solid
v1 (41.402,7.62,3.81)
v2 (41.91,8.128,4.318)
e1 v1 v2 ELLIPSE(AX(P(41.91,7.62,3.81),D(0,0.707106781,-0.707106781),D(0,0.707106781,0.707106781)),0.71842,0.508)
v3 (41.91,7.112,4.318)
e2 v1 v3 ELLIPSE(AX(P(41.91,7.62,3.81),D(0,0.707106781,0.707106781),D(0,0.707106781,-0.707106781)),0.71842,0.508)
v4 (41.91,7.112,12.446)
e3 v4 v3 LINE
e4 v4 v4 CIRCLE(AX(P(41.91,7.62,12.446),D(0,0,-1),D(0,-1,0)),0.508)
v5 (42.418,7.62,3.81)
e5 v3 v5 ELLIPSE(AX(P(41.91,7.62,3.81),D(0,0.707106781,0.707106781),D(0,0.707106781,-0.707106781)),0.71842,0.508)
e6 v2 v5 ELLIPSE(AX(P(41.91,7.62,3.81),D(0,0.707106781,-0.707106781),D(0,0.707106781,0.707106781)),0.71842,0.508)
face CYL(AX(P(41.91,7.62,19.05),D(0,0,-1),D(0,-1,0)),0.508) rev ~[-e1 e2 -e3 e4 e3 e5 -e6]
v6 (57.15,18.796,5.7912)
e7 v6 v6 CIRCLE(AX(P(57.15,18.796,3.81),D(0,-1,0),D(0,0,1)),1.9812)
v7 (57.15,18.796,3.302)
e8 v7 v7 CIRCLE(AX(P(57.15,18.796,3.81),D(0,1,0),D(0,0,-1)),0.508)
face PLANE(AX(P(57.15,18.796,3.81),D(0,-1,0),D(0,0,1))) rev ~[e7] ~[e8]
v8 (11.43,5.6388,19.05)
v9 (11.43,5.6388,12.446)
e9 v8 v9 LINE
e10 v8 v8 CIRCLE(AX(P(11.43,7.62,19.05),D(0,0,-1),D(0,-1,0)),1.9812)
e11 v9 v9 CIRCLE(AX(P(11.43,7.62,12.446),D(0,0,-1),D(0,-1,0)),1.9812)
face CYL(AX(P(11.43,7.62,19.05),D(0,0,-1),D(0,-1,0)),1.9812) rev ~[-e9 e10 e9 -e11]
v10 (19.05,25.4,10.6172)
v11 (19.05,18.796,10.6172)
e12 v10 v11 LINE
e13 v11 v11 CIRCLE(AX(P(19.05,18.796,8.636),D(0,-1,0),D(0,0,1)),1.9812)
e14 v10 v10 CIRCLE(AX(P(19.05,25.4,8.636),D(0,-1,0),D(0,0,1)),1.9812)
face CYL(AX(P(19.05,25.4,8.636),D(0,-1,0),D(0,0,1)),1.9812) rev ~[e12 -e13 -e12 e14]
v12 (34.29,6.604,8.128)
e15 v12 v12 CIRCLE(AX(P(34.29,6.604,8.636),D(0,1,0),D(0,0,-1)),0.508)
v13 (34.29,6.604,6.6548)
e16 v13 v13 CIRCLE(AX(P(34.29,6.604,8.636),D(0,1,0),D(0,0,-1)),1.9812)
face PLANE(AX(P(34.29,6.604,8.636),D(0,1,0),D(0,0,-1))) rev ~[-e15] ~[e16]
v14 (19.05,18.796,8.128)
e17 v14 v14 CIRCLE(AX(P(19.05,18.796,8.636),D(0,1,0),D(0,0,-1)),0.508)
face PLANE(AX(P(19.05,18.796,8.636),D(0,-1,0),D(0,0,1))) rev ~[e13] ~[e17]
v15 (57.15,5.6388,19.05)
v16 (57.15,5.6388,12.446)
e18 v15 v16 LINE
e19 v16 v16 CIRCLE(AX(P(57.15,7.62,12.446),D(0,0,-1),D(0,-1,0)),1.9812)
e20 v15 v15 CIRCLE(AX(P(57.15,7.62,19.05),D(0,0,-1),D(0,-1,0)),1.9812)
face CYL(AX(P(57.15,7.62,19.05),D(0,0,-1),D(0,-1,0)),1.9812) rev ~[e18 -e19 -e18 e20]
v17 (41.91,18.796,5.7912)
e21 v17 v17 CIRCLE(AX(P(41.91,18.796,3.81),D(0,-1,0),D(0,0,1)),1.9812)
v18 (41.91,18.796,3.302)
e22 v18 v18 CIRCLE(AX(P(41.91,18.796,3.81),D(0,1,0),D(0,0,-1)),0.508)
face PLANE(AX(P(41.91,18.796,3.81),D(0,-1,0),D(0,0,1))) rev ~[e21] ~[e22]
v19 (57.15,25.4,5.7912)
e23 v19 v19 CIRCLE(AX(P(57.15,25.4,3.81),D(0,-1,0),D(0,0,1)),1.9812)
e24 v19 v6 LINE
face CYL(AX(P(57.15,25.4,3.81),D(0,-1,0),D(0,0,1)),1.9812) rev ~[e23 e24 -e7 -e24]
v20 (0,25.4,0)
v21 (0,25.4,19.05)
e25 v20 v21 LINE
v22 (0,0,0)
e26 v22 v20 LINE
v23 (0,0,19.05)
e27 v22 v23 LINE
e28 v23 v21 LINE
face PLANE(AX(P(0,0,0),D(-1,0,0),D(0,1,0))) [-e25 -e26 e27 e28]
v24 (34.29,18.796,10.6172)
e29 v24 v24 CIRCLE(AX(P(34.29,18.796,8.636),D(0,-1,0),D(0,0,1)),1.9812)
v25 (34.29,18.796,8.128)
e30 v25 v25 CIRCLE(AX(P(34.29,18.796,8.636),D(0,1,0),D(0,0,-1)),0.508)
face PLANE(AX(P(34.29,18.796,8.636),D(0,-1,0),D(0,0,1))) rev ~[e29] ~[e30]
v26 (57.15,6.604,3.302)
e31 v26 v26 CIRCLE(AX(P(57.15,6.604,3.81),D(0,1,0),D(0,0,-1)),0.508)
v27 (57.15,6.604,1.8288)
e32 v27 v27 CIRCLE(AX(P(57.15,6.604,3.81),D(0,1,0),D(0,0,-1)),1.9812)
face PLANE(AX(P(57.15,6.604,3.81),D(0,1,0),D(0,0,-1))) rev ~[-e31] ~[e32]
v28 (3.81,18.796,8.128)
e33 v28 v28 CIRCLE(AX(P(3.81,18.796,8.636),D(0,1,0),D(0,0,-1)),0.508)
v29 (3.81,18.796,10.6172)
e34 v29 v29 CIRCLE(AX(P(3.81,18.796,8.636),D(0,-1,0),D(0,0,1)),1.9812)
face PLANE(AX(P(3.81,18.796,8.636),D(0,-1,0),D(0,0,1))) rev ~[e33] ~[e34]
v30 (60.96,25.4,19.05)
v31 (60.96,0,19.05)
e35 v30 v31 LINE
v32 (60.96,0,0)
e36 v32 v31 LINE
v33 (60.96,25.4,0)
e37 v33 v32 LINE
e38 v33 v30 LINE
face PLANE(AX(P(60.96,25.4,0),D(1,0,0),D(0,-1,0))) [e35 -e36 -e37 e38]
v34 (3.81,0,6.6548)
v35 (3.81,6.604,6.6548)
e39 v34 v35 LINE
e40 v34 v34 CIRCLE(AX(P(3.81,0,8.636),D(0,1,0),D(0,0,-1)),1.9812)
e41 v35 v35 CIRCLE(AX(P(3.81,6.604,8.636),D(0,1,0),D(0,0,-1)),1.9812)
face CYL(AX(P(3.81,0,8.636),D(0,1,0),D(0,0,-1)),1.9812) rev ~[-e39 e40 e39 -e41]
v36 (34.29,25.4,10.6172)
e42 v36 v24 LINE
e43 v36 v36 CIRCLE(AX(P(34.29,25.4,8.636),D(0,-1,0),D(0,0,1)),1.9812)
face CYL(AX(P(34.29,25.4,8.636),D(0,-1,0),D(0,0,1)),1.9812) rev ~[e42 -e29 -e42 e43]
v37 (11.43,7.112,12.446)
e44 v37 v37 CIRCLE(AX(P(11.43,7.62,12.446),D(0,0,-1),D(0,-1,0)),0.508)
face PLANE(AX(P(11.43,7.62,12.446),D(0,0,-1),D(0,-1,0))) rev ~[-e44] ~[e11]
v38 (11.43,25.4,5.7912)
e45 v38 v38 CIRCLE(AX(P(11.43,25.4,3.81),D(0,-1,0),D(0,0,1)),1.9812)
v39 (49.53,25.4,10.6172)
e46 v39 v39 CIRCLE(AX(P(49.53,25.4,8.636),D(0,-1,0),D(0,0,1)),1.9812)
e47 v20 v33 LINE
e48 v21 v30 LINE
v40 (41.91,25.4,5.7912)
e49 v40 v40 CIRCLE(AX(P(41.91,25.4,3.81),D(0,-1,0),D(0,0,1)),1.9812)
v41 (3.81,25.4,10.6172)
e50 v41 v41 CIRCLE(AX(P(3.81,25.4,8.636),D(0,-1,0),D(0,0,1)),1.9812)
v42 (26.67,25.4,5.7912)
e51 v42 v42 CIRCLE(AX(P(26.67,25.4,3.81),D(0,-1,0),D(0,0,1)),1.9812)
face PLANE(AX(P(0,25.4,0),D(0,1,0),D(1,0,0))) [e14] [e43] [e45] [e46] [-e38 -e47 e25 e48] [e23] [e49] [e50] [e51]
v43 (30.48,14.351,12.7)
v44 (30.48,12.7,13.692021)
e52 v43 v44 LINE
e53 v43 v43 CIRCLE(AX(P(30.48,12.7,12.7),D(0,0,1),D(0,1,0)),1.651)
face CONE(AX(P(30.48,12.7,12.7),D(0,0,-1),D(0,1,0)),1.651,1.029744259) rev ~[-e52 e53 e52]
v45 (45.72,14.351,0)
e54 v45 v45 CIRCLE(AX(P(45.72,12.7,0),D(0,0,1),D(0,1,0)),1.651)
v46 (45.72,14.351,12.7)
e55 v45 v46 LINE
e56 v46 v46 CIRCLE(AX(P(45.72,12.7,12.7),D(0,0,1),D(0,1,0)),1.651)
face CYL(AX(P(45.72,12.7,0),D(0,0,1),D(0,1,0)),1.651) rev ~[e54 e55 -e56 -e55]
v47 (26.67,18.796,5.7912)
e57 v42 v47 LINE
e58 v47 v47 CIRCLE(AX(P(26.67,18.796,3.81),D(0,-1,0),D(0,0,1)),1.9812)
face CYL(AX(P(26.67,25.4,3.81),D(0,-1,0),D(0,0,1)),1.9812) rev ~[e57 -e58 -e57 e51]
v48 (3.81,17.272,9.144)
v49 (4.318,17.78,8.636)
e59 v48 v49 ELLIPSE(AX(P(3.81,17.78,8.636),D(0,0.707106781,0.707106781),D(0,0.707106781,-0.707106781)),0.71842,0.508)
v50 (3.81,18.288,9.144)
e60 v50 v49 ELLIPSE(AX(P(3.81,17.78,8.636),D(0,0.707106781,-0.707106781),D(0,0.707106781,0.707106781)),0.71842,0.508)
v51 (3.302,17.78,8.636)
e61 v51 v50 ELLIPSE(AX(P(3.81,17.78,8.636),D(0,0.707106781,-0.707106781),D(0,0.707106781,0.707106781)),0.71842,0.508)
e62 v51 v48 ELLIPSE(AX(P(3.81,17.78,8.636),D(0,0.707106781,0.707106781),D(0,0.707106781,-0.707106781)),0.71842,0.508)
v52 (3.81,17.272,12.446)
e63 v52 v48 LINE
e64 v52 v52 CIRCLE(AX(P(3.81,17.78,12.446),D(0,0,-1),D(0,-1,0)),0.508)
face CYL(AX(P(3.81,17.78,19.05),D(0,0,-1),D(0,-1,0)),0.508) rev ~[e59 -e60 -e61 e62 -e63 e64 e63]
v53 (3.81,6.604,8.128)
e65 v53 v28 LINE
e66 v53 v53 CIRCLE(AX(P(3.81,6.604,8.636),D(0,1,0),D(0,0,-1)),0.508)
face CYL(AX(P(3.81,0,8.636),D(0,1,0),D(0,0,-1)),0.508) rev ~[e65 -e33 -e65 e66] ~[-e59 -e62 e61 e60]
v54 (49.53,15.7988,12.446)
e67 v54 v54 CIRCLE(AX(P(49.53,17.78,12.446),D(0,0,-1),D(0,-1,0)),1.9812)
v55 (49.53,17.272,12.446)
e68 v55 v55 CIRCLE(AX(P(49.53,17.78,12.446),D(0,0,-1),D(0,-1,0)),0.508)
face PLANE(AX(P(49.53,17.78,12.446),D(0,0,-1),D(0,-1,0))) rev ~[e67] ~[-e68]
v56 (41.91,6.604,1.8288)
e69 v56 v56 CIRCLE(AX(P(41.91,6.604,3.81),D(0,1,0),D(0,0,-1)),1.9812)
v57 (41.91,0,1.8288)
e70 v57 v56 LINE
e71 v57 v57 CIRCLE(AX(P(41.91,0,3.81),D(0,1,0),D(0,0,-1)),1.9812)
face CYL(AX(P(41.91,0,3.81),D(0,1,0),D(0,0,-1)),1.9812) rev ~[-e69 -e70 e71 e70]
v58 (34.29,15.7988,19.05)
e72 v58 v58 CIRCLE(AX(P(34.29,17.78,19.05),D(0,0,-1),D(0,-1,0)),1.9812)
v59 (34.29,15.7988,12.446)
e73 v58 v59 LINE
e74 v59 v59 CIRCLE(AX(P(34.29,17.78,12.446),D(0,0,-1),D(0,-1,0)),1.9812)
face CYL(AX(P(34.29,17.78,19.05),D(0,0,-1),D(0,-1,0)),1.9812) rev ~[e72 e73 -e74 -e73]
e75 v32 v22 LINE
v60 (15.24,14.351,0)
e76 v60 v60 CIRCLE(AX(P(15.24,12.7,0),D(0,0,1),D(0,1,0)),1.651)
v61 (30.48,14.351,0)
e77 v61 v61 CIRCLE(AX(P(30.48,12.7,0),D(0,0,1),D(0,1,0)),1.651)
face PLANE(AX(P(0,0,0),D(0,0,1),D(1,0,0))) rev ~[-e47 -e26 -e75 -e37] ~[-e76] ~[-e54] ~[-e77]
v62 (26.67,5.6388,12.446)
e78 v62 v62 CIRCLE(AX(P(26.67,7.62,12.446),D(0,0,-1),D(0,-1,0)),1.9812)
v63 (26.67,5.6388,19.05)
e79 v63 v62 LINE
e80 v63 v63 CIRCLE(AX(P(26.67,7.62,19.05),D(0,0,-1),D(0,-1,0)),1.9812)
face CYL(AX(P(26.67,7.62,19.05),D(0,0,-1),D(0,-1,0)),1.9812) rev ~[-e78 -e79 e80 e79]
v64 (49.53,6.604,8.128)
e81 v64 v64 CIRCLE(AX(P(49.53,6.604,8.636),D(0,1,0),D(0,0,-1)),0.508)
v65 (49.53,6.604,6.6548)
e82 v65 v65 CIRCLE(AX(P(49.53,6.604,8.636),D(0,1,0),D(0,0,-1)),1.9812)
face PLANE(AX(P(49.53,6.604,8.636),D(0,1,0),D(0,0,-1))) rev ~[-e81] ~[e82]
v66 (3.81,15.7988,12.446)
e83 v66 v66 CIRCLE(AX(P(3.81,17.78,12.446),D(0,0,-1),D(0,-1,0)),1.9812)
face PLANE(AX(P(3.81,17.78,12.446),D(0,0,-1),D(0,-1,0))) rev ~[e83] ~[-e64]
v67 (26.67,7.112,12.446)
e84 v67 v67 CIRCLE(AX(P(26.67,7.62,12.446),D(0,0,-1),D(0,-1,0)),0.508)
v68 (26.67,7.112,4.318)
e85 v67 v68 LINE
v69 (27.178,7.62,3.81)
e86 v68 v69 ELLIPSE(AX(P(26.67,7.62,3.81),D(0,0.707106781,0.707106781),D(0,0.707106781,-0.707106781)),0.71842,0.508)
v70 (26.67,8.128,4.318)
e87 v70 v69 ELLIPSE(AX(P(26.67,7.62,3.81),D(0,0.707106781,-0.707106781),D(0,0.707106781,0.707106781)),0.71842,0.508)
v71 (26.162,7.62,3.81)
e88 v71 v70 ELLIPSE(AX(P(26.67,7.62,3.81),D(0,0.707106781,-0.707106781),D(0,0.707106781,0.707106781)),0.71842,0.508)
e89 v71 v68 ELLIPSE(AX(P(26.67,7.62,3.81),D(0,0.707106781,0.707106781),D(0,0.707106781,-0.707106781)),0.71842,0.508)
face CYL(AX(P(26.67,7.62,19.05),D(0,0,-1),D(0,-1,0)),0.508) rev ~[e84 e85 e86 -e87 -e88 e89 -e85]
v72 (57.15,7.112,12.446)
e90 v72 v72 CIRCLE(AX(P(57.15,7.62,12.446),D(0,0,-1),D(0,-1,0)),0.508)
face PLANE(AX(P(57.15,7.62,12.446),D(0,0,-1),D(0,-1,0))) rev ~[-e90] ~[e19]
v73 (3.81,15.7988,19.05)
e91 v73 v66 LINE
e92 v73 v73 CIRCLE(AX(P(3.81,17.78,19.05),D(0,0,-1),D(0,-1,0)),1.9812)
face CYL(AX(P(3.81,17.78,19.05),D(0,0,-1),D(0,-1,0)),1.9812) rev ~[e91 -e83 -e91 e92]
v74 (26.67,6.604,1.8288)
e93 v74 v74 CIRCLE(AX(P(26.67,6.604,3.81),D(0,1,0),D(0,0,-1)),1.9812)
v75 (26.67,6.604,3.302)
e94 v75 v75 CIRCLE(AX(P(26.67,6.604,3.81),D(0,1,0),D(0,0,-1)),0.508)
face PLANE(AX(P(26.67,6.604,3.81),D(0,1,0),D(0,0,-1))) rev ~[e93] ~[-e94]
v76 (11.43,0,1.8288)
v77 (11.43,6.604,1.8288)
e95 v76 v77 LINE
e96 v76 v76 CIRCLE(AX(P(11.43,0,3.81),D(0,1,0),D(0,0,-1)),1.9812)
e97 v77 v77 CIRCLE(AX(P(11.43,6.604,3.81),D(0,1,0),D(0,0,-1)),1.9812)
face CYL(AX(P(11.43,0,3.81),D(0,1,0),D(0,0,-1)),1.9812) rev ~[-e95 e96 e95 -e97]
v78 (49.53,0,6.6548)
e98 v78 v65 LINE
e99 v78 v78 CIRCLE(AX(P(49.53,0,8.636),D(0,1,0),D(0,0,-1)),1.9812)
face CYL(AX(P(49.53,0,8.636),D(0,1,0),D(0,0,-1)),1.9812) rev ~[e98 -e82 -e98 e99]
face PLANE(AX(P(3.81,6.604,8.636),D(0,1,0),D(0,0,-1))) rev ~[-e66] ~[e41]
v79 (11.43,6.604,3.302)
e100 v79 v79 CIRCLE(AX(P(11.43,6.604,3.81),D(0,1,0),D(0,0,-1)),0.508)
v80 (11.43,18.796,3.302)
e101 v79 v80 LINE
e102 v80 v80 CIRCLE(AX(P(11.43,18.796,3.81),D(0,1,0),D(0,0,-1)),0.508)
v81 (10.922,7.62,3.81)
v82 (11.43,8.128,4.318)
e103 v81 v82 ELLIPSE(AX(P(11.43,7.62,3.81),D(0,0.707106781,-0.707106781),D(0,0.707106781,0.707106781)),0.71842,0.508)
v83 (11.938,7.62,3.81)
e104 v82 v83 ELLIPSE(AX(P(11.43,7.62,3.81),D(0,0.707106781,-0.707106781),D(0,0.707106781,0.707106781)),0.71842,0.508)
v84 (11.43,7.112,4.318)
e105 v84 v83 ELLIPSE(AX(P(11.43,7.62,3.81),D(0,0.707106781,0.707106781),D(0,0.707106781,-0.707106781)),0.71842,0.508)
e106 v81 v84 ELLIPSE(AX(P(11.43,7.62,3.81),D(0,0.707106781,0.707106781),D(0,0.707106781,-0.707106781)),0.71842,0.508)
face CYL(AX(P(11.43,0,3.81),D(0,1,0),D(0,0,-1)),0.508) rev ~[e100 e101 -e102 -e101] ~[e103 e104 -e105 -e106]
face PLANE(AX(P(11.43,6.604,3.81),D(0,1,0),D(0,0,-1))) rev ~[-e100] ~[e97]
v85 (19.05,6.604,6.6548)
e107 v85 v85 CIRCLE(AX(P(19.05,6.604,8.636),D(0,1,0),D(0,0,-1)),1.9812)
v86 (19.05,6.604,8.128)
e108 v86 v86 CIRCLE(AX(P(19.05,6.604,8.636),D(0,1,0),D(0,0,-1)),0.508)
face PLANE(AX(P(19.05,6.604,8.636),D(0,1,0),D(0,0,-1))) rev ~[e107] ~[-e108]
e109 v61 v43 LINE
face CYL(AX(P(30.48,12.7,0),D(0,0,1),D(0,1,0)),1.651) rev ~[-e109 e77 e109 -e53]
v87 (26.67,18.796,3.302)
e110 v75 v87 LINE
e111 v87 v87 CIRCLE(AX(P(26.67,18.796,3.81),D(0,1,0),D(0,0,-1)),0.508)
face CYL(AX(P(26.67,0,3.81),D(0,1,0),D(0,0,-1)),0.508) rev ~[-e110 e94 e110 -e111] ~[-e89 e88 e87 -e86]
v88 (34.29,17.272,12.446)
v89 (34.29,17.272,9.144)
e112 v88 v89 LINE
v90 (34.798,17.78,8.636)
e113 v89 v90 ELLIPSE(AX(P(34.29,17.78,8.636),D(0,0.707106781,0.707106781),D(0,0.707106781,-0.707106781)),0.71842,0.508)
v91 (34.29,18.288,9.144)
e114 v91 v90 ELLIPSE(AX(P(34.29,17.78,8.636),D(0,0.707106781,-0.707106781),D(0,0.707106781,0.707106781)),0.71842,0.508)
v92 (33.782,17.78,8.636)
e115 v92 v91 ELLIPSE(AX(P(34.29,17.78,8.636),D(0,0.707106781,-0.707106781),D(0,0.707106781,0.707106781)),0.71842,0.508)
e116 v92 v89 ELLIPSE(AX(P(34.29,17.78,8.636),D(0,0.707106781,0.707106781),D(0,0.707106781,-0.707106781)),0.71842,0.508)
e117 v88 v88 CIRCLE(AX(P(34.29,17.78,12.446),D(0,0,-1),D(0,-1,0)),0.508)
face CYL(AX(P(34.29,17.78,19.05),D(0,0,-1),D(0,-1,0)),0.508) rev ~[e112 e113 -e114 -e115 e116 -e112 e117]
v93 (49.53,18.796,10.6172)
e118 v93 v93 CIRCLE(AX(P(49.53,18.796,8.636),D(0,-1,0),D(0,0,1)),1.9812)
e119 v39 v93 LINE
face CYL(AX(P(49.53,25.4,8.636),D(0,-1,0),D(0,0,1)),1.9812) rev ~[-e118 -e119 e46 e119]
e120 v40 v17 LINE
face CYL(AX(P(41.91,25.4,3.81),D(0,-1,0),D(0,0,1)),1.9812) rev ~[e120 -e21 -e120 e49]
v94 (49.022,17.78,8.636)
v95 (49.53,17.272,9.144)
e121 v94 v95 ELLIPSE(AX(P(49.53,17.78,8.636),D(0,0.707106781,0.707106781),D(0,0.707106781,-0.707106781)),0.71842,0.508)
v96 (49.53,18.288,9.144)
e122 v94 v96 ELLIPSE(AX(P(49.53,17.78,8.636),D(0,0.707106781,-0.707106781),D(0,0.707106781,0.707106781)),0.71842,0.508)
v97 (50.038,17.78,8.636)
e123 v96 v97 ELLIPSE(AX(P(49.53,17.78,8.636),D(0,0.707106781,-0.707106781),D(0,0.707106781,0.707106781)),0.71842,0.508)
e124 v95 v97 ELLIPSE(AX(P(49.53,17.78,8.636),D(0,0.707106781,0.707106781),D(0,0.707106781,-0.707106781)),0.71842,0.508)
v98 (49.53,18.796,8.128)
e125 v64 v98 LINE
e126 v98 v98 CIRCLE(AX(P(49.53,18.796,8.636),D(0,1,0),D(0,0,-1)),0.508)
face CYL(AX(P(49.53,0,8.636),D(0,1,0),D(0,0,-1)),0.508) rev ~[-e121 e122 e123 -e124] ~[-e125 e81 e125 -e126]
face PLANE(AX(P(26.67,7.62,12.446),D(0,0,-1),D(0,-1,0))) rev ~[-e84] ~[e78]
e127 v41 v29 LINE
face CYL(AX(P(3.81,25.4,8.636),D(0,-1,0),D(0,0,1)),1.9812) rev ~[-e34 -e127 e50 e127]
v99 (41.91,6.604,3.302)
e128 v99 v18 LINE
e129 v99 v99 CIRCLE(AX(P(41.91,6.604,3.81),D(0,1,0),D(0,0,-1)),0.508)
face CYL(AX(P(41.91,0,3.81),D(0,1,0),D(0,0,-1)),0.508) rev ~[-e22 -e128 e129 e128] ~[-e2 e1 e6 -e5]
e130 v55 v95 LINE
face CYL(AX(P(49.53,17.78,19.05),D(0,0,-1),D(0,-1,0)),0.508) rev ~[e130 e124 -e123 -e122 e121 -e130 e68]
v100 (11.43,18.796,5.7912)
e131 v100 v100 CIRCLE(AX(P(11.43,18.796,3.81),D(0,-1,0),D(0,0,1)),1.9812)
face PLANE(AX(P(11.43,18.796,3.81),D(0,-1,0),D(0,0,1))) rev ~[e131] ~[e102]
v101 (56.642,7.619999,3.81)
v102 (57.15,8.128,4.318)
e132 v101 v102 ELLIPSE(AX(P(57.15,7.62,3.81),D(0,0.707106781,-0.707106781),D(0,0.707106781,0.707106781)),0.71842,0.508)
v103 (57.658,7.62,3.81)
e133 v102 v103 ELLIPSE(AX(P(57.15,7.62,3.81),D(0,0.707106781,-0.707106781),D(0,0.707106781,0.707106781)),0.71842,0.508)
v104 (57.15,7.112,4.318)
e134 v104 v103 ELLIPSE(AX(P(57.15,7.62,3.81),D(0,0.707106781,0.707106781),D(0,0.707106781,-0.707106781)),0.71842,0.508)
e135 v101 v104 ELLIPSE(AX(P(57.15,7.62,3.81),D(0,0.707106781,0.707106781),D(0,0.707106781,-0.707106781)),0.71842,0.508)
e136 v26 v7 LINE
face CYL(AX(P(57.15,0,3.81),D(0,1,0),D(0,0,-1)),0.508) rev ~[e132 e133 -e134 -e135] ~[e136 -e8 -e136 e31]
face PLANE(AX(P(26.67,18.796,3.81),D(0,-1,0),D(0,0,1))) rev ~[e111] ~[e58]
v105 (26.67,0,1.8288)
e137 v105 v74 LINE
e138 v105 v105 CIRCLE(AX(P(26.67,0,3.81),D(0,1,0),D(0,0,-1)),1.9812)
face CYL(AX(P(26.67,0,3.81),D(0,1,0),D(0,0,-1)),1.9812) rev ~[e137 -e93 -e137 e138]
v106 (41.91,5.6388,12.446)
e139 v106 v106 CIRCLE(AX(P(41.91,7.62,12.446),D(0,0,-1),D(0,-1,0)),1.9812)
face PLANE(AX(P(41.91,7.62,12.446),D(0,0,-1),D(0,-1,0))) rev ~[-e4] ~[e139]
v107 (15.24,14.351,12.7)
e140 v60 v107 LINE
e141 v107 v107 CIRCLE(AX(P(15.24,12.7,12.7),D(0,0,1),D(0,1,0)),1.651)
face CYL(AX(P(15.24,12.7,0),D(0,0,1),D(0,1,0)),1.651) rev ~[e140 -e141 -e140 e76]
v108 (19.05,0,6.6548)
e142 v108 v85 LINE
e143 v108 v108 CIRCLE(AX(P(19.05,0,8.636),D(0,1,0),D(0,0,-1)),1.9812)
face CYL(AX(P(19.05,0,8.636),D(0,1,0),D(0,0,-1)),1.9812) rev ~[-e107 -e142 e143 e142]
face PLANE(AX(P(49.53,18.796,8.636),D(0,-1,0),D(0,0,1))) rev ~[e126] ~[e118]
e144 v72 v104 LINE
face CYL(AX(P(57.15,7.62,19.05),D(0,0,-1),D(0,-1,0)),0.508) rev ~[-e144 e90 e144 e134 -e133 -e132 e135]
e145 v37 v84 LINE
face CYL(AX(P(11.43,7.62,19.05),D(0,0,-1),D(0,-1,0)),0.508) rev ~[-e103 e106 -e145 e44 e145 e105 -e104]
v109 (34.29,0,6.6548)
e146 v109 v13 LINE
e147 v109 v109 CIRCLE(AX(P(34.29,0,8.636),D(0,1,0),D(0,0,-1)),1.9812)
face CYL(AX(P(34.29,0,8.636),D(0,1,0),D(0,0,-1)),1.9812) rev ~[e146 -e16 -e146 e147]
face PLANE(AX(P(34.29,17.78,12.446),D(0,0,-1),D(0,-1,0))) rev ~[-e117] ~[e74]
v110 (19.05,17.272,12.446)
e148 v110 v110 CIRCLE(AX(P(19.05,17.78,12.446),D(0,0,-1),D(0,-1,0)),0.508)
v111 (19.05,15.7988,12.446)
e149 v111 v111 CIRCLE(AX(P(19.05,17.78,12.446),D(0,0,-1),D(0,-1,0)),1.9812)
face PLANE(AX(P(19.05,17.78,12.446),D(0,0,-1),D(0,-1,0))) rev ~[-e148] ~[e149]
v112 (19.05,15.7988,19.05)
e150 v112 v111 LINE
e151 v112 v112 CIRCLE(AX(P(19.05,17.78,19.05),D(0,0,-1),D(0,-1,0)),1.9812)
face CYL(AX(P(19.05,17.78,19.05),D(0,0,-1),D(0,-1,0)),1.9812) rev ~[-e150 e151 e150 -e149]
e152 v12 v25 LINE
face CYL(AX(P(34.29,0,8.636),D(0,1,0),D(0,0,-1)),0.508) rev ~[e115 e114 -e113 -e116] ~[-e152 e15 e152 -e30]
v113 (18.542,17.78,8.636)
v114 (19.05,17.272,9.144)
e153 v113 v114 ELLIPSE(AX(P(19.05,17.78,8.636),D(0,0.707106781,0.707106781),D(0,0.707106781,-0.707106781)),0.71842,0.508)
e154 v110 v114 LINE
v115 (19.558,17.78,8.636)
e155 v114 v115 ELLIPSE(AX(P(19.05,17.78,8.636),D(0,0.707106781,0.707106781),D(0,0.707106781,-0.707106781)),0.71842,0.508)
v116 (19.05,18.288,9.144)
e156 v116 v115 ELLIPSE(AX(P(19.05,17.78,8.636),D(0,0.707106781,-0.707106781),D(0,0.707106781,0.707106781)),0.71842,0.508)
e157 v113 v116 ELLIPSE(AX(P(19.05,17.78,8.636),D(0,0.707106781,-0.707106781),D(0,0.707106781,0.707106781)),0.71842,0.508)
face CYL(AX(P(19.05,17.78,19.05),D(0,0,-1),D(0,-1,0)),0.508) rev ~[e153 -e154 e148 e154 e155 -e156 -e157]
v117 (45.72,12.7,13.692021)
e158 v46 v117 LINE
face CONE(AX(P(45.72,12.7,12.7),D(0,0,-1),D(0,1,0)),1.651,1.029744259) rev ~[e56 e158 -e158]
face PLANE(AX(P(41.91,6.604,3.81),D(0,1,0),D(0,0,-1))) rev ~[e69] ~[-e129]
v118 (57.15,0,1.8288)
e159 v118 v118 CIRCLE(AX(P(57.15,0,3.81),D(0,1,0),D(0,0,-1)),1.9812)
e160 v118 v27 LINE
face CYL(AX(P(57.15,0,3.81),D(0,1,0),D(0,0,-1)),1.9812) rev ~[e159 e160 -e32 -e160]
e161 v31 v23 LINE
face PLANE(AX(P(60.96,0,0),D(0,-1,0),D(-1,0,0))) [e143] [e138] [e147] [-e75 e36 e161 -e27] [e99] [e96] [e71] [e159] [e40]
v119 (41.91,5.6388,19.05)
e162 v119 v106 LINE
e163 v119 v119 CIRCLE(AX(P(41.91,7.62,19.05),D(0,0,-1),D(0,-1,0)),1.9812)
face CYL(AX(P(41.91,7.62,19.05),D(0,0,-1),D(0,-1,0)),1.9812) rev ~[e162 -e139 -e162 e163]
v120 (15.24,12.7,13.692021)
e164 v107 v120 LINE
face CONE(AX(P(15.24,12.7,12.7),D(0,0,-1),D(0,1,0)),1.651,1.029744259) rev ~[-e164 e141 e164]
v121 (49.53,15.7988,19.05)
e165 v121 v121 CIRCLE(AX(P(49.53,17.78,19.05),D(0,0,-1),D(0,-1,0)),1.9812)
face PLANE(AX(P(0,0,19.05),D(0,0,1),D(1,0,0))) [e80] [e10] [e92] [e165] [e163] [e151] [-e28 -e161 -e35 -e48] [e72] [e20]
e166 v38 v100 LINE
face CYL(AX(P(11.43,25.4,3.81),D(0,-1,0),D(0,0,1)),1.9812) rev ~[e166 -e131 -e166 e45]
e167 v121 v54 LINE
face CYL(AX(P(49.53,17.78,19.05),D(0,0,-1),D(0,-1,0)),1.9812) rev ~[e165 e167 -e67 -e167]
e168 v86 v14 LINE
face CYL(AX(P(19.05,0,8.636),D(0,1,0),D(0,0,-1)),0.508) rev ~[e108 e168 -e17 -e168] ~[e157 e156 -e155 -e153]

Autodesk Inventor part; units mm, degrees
ref_plane "YZ Plane" through (0, 0, 0) normal (1, 0, 0) x (0, 1, 0)
sketch "Sketch1" plane through (0, 0, 0) normal (0, 0, 1) x (1, 0, 0)
  line L0 (0, 25.4) -> (60.96, 25.4)
  line L1 (60.96, 25.4) -> (60.96, 0)
  line L2 (60.96, 0) -> (0, 0)
  line L3 (0, 0) -> (0, 25.4)
  dimension "tmanifold_width" = 60.96
  dimension "tmanifold_depth" = 25.4
extrude "Extrusion1" add sketch "Sketch1" along normal blind 19.05
sketch "Sketch2" plane through (0, 0, 19.05) normal (0, 0, 1) x (1, 0, 0)
  line L0 (60.96, 25.4) -> (60.96, 0) projected
  line L1 (0, 25.4) -> (60.96, 25.4) projected
  line L2 (0, 0) -> (0, 25.4) projected
  line L3 (0, 12.7) -> (60.96, 12.7) construction
  line L4 (3.81, 17.78) -> (3.81, 12.7) construction
  line L5 (11.43, 7.62) -> (11.43, 12.7) construction
  point P0 (19.05, 17.78)
  point P1 (26.67, 7.62)
  point P2 (34.29, 17.78)
  point P3 (41.91, 7.62)
  point P4 (49.53, 17.78)
  point P5 (57.15, 7.62)
  dimension "d5" = 7.62
  dimension "d6" = 7.62
  dimension "d9" = 15.24
  dimension "d14" = 3.81
hole "top 10-32 ports" at (3.81, 17.78, 19.05) at (11.43, 7.62, 19.05) at (26.67, 7.62, 19.05) at (19.05, 17.78, 19.05) at (41.91, 7.62, 19.05) at (34.29, 17.78, 19.05) at (57.15, 7.62, 19.05) at (49.53, 17.78, 19.05) direction (0, 0, -1) diameter 3.9624 depth 6.604 thread size "10-32 UNF" class "2B" standard "ANSI Unified Screw Threads"
sketch "Sketch3" plane through (0, 0, 0) normal (0, -1, 0) x (1, 0, 0)
  line L0 (60.96, 19.05) -> (0, 19.05) projected
  line L1 (60.96, 0) -> (0, 0) projected
  line L2 (1.8288, 12.446) -> (1.8288, 19.05) projected
  line L3 (5.7912, 12.446) -> (5.7912, 19.05) projected
  line L4 (5.7912, 12.446) -> (1.8288, 12.446) projected
  line L5 (9.4488, 12.446) -> (9.4488, 19.05) projected
  line L6 (13.4112, 12.446) -> (13.4112, 19.05) projected
  line L7 (13.4112, 12.446) -> (9.4488, 12.446) projected
  line L8 (3.81, 12.446) -> (3.81, 0) construction
  line L9 (11.43, 12.446) -> (11.43, 0) construction
  circle A0 centre (3.81, 8.636) radius 3.81 construction
  circle A1 centre (11.43, 3.81) radius 3.81 construction
  point P0 (19.05, 8.636)
  point P1 (26.67, 3.81)
  point P2 (34.29, 8.636)
  point P3 (41.91, 3.81)
  point P4 (49.53, 8.636)
  point P5 (57.15, 3.81)
  dimension "d22" = 7.62
  dimension "d25" = 15.24
  dimension "d78" = 8.636
  dimension "d79" = 3.81
hole "front 10-32 ports" at (3.81, 0, 8.636) at (11.43, 0, 3.81) at (19.05, 0, 8.636) at (26.67, 0, 3.81) at (34.29, 0, 8.636) at (41.91, 0, 3.81) at (49.53, 0, 8.636) at (57.15, 0, 3.81) direction (0, 1, 0) diameter 3.9624 depth 6.604 thread size "10-32 UNF" class "2B" standard "ANSI Unified Screw Threads"
sketch "Sketch4" plane through (0, 25.4, 0) normal (0, 1, 0) x (1, 0, 0)
  circle A0 centre (3.81, -8.636) radius 2.5527 projected
  circle A1 centre (11.43, -3.81) radius 2.5527 projected
  circle A2 centre (19.05, -8.636) radius 2.5527 projected
  circle A3 centre (26.67, -3.81) radius 2.5527 projected
  circle A4 centre (34.29, -8.636) radius 2.5527 projected
  circle A5 centre (41.91, -3.81) radius 2.5527 projected
  circle A6 centre (49.53, -8.636) radius 2.5527 projected
  circle A7 centre (57.15, -3.81) radius 2.5527 projected
  dimension "d76" = 4.826
  dimension "d77" = 9.0197
hole "rear 10-32 ports" at (57.15, 25.4, 3.81) at (49.53, 25.4, 8.636) at (41.91, 25.4, 3.81) at (34.29, 25.4, 8.636) at (26.67, 25.4, 3.81) at (19.05, 25.4, 8.636) at (11.43, 25.4, 3.81) at (3.81, 25.4, 8.636) direction (0, -1, 0) diameter 3.9624 depth 6.604 thread size "10-32 UNF" class "2B" standard "ANSI Unified Screw Threads"
sketch "Sketch5" plane through (0, 0, 0) normal (0, -1, 0) x (1, 0, 0)
  circle A0 centre (57.15, 3.81) radius 2.5527 projected
  circle A1 centre (49.53, 8.636) radius 2.5527 projected
  circle A2 centre (41.91, 3.81) radius 2.5527 projected
  circle A3 centre (34.29, 8.636) radius 2.5527 projected
  circle A4 centre (26.67, 3.81) radius 2.5527 projected
  circle A5 centre (19.05, 8.636) radius 2.5527 projected
  circle A6 centre (11.43, 3.81) radius 2.5527 projected
  circle A7 centre (3.81, 8.636) radius 2.5527 projected
hole "air channel thru" at (3.81, 0, 8.636) at (11.43, 0, 3.81) at (19.05, 0, 8.636) at (26.67, 0, 3.81) at (34.29, 0, 8.636) at (41.91, 0, 3.81) at (49.53, 0, 8.636) at (57.15, 0, 3.81) direction (0, 1, 0) diameter 1.016 end through all
sketch "Sketch6" plane through (0, 0, 19.05) normal (0, 0, 1) x (1, 0, 0)
  circle A0 centre (49.53, 17.78) radius 2.5527 projected
  circle A1 centre (57.15, 7.62) radius 2.5527 projected
  circle A2 centre (34.29, 17.78) radius 2.5527 projected
  circle A3 centre (41.91, 7.62) radius 2.5527 projected
  circle A4 centre (19.05, 17.78) radius 2.5527 projected
  circle A5 centre (26.67, 7.62) radius 2.5527 projected
  circle A6 centre (11.43, 7.62) radius 2.5527 projected
  circle A7 centre (3.81, 17.78) radius 2.5527 projected
ref_plane "Work Plane1" through (3.81, 0, 8.636) normal (0, 0, 1) x (1, 0, 0)
ref_plane "Work Plane2" through (11.43, 0, 3.81) normal (0, 0, 1) x (1, 0, 0)
hole "Hole5" at (3.81, 17.78, 19.05) at (19.05, 17.78, 19.05) at (34.29, 17.78, 19.05) at (49.53, 17.78, 19.05) direction (0, 0, -1) diameter 1.016 depth 10.414
hole "Hole6" at (11.43, 7.62, 19.05) at (26.67, 7.62, 19.05) at (41.91, 7.62, 19.05) at (57.15, 7.62, 19.05) direction (0, 0, -1) diameter 1.016 depth 15.24
sketch "Sketch7" plane through (0, 0, 0) normal (0, 0, -1) x (-1, 0, 0)
  line L0 (-1.8288, 6.604) -> (-1.8288, 0) projected
  line L1 (-5.7912, 6.604) -> (-5.7912, 0) projected
  line L2 (-3.302, 18.796) -> (-3.302, 6.604) projected
  line L3 (-4.318, 18.796) -> (-4.318, 6.604) projected
  line L4 (-1.8288, 18.796) -> (-1.8288, 25.4) projected
  line L5 (-5.7912, 18.796) -> (-5.7912, 25.4) projected
  line L6 (-1.8288, 18.796) -> (-5.7912, 18.796) projected
  line L7 (-5.7912, 6.604) -> (-1.8288, 6.604) projected
  line L8 (-8.8773, 0) -> (-13.9827, 0) projected
  line L9 (-13.4112, 0.5715) -> (-9.4488, 0.5715) projected
  line L10 (-13.4112, 6.604) -> (-13.4112, 0) projected
  line L11 (-9.4488, 6.604) -> (-9.4488, 0) projected
  line L12 (-10.922, 18.796) -> (-10.922, 6.604) projected
  line L13 (-11.938, 18.796) -> (-11.938, 6.604) projected
  line L14 (-9.4488, 18.796) -> (-13.4112, 18.796) projected
  line L15 (-18.542, 18.796) -> (-18.542, 6.604) projected
  line L16 (-19.558, 18.796) -> (-19.558, 6.604) projected
  line L17 (-21.0312, 6.604) -> (-17.0688, 6.604) projected
  line L18 (-28.6512, 6.604) -> (-24.6888, 6.604) projected
  line L19 (-36.2712, 6.604) -> (-32.3088, 6.604) projected
  line L20 (-31.7373, 0) -> (-36.8427, 0) projected
  line L21 (-43.8912, 6.604) -> (-39.9288, 6.604) projected
  line L22 (-51.5112, 6.604) -> (-47.5488, 6.604) projected
  line L23 (-49.022, 18.796) -> (-49.022, 6.604) projected
  line L24 (-50.038, 18.796) -> (-50.038, 6.604) projected
  line L25 (-49.022, 18.796) -> (-49.022, 6.604) projected
  line L26 (-50.038, 18.796) -> (-50.038, 6.604) projected
  line L27 (-33.782, 18.796) -> (-33.782, 6.604) projected
  line L28 (-33.782, 18.796) -> (-33.782, 6.604) projected
  line L29 (-32.3088, 6.604) -> (-32.3088, 0) projected
  line L30 (-33.782, 18.796) -> (-33.782, 6.604) projected
  line L31 (-33.782, 18.796) -> (-33.782, 6.604) projected
  line L32 (-41.402, 18.796) -> (-41.402, 6.604) projected
  line L33 (-42.418, 18.796) -> (-42.418, 6.604) projected
  line L34 (-27.178, 18.796) -> (-27.178, 6.604) projected
  line L35 (-21.0312, 18.796) -> (-21.0312, 25.4) projected
  line L36 (-27.178, 18.796) -> (-27.178, 6.604) projected
  line L37 (-42.418, 18.796) -> (-42.418, 6.604) projected
  line L38 (-36.2712, 18.796) -> (-36.2712, 25.4) projected
  line L39 (-34.798, 18.796) -> (-34.798, 6.604) projected
  line L40 (-39.9288, 18.796) -> (-43.8912, 18.796) projected
  line L41 (-47.5488, 18.796) -> (-51.5112, 18.796) projected
  line L42 (-55.1688, 18.796) -> (-59.1312, 18.796) projected
  line L43 (-56.642, 18.796) -> (-56.642, 6.604) projected
  line L44 (-57.658, 18.796) -> (-57.658, 6.604) projected
  line L45 (-59.1312, 6.604) -> (-55.1688, 6.604) projected
  line L46 (-32.3088, 18.796) -> (-36.2712, 18.796) projected
  line L47 (-26.162, 18.796) -> (-26.162, 6.604) projected
  line L48 (-24.6888, 18.796) -> (-28.6512, 18.796) projected
  line L49 (-60.96, 25.4) -> (-60.96, 0) projected
  line L50 (0, 25.4) -> (-60.96, 25.4) projected
  line L51 (0, 0) -> (0, 25.4) projected
  line L52 (-60.96, 0) -> (0, 0) projected
  line L53 (-28.6512, 6.604) -> (-28.6512, 0) projected
  line L54 (-24.6888, 6.604) -> (-24.6888, 0) projected
  line L55 (-36.2712, 6.604) -> (-36.2712, 0) projected
  line L56 (-39.9288, 6.604) -> (-39.9288, 0) projected
  line L57 (-43.8912, 6.604) -> (-43.8912, 0) projected
  line L58 (-47.5488, 6.604) -> (-47.5488, 0) projected
  line L59 (-51.5112, 6.604) -> (-51.5112, 0) projected
  line L60 (-55.1688, 6.604) -> (-55.1688, 0) projected
  line L61 (-59.1312, 6.604) -> (-59.1312, 0) projected
  line L62 (-39.9288, 18.796) -> (-39.9288, 25.4) projected
  line L63 (-43.8912, 18.796) -> (-43.8912, 25.4) projected
  line L64 (-51.5112, 18.796) -> (-51.5112, 25.4) projected
  line L65 (-55.1688, 18.796) -> (-55.1688, 25.4) projected
  line L66 (-59.1312, 18.796) -> (-59.1312, 25.4) projected
  line L67 (-17.0688, 18.796) -> (-21.0312, 18.796) projected
  line L68 (-17.0688, 18.796) -> (-17.0688, 25.4) projected
  line L69 (-17.0688, 6.604) -> (-17.0688, 0) projected
  line L70 (-21.0312, 6.604) -> (-21.0312, 0) projected
  line L71 (-13.4112, 18.796) -> (-13.4112, 25.4) projected
  line L72 (-9.4488, 18.796) -> (-9.4488, 25.4) projected
  circle A0 centre (-34.29, 17.78) radius 2.5527 projected
  circle A1 centre (-19.05, 17.78) radius 2.5527 projected
  circle A2 centre (-3.81, 17.78) radius 2.5527 projected
  circle A3 centre (-11.43, 7.62) radius 2.5527 projected
  circle A4 centre (-26.67, 7.62) radius 2.5527 projected
  circle A5 centre (-41.91, 7.62) radius 2.5527 projected
  circle A6 centre (-49.53, 17.78) radius 2.5527 projected
  circle A7 centre (-57.15, 7.62) radius 2.5527 projected
  line L73 (-32.3088, 18.796) -> (-32.3088, 25.4) projected
  line L74 (-28.6512, 18.796) -> (-28.6512, 25.4) projected
  line L75 (-24.6888, 18.796) -> (-24.6888, 25.4) projected
  line L76 (-13.4112, 6.604) -> (-9.4488, 6.604) projected
  line L77 (-47.5488, 18.796) -> (-47.5488, 25.4) projected
  line L78 (-60.96, 12.7) -> (0, 12.7) construction
  line L79 (-30.48, 25.4) -> (-30.48, 0) construction
  point P0 (-9.4488, 0.5715)
  point P1 (-30.48, 12.7)
  point P2 (-15.24, 12.7)
  point P3 (-45.72, 12.7)
  dimension "d68" = 15.24
sketch "Sketch8" plane through (0, 0, 19.05) normal (0, 0, 1) x (1, 0, 0)
  circle A0 centre (49.53, 17.78) radius 2.5527 projected
  circle A1 centre (57.15, 7.62) radius 2.5527 projected
  circle A2 centre (34.29, 17.78) radius 2.5527 projected
  circle A3 centre (41.91, 7.62) radius 2.5527 projected
  circle A4 centre (19.05, 17.78) radius 2.5527 projected
  circle A5 centre (26.67, 7.62) radius 2.5527 projected
  circle A6 centre (11.43, 7.62) radius 2.5527 projected
  circle A7 centre (3.81, 17.78) radius 2.5527 projected
  line L0 (60.96, 25.4) -> (60.96, 0) projected
  line L1 (0, 25.4) -> (60.96, 25.4) projected
  line L2 (0, 0) -> (0, 25.4) projected
  line L3 (60.96, 0) -> (0, 0) projected
  line L4 (0, 12.7) -> (60.96, 12.7) construction
  line L5 (0, 12.7) -> (60.96, 12.7)
  line L6 (30.48, 0) -> (30.48, 25.4) construction
  line L7 (11.938, 18.796) -> (11.938, 6.604) projected
  line L8 (10.922, 18.796) -> (10.922, 6.604) projected
  line L9 (18.542, 18.796) -> (18.542, 6.604) projected
  line L10 (19.558, 18.796) -> (19.558, 6.604) projected
  line L11 (26.162, 18.796) -> (26.162, 6.604) projected
  line L12 (27.178, 18.796) -> (27.178, 6.604) projected
  line L13 (33.782, 18.796) -> (33.782, 6.604) projected
  line L14 (34.798, 18.796) -> (34.798, 6.604) projected
  line L15 (42.418, 18.796) -> (42.418, 6.604) projected
  line L16 (41.402, 18.796) -> (41.402, 6.604) projected
  line L17 (49.022, 18.796) -> (49.022, 6.604) projected
  line L18 (50.038, 18.796) -> (50.038, 6.604) projected
  point P0 (30.48, 12.7)
  point P1 (45.72, 12.7)
  point P2 (15.24, 12.7)
  dimension "d66" = 30.48
  dimension "d67" = 15.24
hole "Hole7" at (30.48, 12.7, 0) at (15.24, 12.7, 0) at (45.72, 12.7, 0) direction (0, 0, 1) diameter 3.302 depth 12.7 tip angle 118 thread size "8-32 UNC" class "2B" standard "ANSI Unified Screw Threads"
properties part number "t-manifold ems"
